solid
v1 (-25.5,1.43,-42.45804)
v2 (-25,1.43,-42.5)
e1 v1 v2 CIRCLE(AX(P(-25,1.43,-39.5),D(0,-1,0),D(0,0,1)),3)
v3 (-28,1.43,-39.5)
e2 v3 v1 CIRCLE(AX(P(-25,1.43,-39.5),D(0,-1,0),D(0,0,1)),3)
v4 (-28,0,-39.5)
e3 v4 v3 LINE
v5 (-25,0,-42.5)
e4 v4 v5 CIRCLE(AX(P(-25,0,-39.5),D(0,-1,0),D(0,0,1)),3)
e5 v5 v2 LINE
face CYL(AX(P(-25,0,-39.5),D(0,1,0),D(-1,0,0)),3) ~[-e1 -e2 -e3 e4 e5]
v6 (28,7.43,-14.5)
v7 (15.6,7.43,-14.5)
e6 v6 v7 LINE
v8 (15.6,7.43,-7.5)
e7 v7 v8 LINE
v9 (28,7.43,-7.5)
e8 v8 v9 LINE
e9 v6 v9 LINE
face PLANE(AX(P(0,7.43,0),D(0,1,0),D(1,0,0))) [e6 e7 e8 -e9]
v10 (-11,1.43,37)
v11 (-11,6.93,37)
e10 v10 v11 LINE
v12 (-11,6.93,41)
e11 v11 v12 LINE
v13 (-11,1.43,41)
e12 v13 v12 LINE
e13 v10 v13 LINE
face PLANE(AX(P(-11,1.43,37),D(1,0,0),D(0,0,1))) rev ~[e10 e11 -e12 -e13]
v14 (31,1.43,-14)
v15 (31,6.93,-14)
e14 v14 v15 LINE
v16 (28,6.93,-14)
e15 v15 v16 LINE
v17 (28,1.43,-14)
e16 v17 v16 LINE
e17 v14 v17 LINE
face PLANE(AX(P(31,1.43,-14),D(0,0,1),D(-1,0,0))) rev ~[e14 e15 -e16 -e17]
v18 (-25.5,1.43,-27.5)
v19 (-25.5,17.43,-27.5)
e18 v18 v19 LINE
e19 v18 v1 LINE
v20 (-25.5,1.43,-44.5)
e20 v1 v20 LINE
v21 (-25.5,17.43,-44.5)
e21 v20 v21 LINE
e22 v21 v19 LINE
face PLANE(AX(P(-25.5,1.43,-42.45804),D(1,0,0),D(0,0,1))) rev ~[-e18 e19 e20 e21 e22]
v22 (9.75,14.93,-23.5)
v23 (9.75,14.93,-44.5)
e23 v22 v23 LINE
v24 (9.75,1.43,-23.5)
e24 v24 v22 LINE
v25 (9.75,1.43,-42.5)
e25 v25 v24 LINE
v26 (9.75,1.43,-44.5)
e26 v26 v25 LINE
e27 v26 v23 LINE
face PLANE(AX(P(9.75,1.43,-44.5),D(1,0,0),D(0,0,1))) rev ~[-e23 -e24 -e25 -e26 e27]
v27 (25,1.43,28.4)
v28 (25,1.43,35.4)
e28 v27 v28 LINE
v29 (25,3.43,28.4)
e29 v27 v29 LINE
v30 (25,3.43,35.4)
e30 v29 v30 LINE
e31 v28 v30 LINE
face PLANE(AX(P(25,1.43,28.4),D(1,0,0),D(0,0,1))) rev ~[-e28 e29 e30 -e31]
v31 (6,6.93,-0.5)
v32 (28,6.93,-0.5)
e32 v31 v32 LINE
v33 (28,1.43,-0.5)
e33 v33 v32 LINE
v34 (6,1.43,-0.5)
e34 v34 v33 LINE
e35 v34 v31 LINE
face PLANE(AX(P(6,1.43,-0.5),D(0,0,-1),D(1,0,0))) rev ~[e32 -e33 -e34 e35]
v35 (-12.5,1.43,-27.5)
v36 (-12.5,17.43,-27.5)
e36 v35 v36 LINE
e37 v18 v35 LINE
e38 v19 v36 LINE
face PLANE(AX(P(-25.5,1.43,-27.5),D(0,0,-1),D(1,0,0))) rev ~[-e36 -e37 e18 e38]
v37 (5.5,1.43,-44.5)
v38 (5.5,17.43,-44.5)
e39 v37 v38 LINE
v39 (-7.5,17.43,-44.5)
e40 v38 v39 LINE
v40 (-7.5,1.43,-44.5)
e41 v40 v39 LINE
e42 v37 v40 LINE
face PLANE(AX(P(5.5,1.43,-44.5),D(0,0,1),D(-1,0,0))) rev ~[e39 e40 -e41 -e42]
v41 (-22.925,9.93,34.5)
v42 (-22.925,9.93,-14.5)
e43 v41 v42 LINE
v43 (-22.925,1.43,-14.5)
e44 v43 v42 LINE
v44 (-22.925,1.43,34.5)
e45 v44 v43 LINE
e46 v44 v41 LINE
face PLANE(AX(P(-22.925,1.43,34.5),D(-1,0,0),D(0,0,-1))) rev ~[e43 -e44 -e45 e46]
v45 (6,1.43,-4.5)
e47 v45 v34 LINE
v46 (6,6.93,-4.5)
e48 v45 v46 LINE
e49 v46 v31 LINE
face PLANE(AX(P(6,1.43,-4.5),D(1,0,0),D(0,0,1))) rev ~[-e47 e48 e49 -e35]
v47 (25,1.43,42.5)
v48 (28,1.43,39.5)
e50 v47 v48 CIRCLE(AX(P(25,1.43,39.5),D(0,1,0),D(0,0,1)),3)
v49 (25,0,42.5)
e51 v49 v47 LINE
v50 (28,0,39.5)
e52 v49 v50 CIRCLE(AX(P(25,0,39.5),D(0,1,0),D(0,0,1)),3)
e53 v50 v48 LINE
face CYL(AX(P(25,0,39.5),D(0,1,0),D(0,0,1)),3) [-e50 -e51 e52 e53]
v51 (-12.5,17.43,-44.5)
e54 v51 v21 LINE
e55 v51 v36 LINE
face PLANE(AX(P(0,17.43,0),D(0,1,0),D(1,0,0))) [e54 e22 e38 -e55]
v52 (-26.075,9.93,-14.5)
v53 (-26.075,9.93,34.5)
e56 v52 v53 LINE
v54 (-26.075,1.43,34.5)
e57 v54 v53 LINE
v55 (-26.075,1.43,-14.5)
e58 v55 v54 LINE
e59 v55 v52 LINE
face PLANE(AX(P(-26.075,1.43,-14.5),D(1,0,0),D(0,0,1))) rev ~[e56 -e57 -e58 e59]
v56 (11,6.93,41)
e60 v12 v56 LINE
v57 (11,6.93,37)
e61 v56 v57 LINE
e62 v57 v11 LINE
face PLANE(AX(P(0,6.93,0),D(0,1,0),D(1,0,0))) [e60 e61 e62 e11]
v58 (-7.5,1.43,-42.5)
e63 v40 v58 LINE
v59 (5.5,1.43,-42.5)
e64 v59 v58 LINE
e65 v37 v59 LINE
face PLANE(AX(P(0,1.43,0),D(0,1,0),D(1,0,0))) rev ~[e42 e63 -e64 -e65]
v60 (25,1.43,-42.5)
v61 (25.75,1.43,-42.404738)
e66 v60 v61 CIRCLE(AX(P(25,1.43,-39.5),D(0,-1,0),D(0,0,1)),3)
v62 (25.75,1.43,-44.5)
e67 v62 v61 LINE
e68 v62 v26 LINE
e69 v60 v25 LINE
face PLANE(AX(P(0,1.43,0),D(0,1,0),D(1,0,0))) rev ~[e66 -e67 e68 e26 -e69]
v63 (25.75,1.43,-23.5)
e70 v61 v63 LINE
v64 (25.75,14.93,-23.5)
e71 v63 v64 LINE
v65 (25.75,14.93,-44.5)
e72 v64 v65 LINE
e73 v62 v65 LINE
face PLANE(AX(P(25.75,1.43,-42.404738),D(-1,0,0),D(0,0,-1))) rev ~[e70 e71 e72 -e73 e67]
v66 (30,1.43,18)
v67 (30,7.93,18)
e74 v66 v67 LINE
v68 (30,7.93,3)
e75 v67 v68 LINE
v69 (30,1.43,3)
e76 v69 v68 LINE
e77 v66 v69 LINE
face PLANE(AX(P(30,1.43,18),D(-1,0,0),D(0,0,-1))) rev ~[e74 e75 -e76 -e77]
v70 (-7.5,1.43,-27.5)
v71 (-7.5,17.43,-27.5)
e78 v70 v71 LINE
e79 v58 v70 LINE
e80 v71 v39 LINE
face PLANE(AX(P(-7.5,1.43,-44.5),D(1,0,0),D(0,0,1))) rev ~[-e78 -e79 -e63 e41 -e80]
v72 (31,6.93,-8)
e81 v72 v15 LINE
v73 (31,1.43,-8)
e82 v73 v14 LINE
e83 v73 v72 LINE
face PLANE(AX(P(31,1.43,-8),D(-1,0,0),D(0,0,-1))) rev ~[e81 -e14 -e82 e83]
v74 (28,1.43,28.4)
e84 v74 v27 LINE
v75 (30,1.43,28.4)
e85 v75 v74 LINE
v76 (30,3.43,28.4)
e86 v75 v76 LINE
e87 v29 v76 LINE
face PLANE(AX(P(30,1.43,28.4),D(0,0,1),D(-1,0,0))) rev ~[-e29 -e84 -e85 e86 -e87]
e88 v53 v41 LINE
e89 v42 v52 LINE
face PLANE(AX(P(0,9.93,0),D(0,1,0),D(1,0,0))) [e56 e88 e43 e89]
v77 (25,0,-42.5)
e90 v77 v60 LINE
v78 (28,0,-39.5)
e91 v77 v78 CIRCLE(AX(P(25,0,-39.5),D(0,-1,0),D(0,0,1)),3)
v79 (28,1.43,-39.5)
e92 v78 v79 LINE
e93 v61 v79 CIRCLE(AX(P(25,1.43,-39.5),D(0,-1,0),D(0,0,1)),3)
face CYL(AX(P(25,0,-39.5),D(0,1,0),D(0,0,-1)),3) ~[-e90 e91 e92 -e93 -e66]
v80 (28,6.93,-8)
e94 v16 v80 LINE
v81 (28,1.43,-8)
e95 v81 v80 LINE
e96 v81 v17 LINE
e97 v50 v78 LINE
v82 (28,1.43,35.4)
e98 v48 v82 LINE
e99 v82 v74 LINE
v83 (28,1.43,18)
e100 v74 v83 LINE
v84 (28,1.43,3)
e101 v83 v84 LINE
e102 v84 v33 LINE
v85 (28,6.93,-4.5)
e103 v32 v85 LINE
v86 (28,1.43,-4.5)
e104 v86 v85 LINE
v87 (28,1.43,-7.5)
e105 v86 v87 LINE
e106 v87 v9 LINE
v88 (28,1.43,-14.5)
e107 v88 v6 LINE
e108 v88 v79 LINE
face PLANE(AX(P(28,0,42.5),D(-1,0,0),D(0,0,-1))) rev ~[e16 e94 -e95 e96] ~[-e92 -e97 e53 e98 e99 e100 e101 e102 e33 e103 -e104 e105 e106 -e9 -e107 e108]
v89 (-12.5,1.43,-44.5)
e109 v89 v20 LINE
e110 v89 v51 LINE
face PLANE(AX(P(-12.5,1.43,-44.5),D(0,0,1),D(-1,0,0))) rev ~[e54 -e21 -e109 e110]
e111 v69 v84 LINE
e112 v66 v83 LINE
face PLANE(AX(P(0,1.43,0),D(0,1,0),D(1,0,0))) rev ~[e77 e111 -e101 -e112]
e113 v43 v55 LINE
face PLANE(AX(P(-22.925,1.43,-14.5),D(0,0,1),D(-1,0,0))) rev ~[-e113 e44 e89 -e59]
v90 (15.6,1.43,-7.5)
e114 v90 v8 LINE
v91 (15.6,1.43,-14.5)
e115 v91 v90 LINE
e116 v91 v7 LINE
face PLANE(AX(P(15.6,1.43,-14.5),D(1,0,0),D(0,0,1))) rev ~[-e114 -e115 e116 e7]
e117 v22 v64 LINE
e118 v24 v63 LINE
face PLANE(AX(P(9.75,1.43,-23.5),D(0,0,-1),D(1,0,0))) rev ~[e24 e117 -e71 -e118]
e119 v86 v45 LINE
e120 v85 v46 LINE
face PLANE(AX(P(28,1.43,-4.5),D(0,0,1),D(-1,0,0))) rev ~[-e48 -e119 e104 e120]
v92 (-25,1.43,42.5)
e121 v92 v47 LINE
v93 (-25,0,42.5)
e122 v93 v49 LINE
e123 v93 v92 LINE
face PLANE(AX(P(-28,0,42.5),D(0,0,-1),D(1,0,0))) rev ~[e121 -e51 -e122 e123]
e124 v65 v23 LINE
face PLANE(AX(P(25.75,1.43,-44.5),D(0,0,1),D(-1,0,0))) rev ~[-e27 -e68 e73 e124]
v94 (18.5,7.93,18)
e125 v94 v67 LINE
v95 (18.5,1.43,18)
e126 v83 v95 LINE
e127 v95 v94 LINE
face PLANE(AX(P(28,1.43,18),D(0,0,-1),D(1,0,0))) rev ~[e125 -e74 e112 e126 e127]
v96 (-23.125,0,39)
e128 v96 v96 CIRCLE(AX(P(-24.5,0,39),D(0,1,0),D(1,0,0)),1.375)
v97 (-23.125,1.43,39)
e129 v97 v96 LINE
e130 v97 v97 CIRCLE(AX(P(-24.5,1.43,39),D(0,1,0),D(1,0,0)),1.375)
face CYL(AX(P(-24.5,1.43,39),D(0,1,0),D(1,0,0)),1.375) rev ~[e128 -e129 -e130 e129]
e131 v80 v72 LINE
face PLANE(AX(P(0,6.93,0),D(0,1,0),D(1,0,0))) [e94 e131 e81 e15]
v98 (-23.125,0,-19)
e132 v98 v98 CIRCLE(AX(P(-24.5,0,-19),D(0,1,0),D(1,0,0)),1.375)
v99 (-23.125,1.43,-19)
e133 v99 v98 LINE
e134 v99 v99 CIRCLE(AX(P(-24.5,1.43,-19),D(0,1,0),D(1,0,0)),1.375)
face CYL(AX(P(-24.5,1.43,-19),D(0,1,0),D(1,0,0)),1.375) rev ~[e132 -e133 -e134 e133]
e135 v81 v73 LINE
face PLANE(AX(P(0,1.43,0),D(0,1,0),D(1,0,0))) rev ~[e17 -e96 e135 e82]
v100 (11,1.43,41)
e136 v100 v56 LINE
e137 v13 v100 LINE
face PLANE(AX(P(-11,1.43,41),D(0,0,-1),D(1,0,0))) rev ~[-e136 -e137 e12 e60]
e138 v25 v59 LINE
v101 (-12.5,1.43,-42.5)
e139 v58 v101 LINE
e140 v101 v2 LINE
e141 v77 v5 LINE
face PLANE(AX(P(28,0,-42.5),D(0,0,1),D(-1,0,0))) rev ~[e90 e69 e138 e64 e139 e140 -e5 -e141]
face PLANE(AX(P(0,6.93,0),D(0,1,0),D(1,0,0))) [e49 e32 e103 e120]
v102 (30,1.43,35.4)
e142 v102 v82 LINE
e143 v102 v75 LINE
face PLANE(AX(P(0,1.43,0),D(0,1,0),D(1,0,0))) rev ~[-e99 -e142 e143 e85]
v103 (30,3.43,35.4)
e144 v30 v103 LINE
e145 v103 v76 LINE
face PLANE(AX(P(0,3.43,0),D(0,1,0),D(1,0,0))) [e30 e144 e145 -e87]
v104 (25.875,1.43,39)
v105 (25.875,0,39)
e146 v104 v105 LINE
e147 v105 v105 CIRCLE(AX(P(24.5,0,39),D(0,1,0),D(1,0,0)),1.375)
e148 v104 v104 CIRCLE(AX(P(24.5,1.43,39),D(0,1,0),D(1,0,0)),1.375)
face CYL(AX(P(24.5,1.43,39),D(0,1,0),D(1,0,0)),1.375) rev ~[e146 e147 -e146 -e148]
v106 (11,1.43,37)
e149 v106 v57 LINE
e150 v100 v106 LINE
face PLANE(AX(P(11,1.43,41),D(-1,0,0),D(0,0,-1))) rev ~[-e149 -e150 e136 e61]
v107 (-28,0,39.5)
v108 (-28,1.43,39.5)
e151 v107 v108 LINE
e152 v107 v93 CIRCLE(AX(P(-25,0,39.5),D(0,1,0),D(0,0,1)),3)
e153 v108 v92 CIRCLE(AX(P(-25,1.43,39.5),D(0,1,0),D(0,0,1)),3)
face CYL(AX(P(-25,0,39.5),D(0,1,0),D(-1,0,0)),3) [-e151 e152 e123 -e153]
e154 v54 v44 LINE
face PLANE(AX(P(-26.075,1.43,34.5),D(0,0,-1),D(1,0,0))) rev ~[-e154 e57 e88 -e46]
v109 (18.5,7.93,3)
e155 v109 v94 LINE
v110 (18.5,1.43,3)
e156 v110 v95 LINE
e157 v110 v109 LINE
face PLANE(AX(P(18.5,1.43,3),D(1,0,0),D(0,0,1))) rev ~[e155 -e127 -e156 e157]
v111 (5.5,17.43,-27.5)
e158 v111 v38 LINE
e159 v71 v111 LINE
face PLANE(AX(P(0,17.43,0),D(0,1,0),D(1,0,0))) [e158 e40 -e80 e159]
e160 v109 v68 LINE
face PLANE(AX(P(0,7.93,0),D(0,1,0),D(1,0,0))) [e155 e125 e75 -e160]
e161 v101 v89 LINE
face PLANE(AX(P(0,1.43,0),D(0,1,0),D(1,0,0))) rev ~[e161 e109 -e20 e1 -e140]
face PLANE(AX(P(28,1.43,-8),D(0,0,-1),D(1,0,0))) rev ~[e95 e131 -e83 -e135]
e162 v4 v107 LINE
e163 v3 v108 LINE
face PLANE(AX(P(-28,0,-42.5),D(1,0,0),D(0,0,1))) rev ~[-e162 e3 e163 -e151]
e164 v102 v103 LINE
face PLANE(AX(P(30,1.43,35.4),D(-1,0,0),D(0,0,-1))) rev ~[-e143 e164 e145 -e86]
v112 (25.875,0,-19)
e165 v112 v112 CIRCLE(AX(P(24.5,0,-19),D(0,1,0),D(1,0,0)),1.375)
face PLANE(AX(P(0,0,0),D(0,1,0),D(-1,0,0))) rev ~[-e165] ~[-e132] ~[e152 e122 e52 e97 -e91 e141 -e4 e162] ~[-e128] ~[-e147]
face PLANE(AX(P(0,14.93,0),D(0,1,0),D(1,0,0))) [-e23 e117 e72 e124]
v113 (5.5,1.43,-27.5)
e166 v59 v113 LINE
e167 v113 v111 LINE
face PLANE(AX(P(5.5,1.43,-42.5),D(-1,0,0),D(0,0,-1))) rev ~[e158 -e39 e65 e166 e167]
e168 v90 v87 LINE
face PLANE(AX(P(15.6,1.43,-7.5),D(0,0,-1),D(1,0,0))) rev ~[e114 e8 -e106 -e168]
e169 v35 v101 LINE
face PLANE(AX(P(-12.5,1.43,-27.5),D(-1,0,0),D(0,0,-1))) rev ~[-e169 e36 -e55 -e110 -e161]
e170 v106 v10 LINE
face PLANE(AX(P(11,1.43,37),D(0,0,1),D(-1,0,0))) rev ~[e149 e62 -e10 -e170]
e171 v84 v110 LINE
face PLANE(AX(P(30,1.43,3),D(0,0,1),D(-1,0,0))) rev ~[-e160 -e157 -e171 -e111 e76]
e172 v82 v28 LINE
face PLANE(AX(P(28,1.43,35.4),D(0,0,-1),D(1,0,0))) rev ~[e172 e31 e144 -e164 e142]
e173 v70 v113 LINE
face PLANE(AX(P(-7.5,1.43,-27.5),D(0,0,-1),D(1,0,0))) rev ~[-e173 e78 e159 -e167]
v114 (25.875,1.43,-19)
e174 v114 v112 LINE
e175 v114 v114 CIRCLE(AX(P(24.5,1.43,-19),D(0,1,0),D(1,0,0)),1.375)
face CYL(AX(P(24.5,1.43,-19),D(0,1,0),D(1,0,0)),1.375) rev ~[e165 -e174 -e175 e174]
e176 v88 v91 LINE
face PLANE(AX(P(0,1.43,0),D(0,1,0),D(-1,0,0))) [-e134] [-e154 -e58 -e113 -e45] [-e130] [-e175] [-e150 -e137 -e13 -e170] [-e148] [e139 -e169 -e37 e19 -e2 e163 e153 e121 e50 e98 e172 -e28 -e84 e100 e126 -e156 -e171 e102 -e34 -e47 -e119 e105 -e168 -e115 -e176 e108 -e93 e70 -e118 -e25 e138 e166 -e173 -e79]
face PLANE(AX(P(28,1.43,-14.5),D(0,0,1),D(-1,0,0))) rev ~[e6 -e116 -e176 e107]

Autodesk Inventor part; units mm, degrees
ref_plane "YZ Plane" through (0, 0, 0) normal (1, 0, 0) x (0, 1, 0)
ref_plane "XZ Plane" through (0, 0, 0) normal (0, 1, 0) x (-1, 0, 0)
ref_plane "XY Plane" through (0, 0, 0) normal (0, 0, 1) x (1, 0, 0)
sketch "Sketch1" plane through (0, 0, 0) normal (0, 1, 0) x (-1, 0, 0)
  line L0 (28, 42.5) -> (-28, 42.5)
  line L1 (-28, 42.5) -> (-28, -42.5)
  line L2 (-28, -42.5) -> (28, -42.5)
  line L3 (28, -42.5) -> (28, 42.5)
  point P0 (0, 0)
  point P1 (28, 0)
  point P2 (0, -42.5)
  dimension "d0" = 85
  dimension "d1" = 56
extrude "Extrusion1" add sketch "Sketch1" along normal blind 1.43
sketch "Sketch2" plane through (0, 1.43, 0) normal (0, 1, 0) x (1, 0, 0)
  line L0 (-28, -42.5) -> (28, -42.5) projected
  line L1 (28, -42.5) -> (28, 42.5) projected
  line L2 (28, 42.5) -> (-28, 42.5) projected
  line L3 (-28, 42.5) -> (-28, -42.5) projected
  circle A0 centre (-24.5, -39) radius 1.375
  circle A1 centre (-24.5, 19) radius 1.375
  circle A2 centre (24.5, 19) radius 1.375
  circle A3 centre (24.5, -39) radius 1.375
  point P0 (0, 0)
  dimension "d4" = 2.75
  dimension "d5" = 2.75
  dimension "d6" = 2.75
  dimension "d7" = 2.75
  dimension "d8" = 49
  dimension "d9" = 58
  dimension "d10" = 3.5
  dimension "d11" = 3.5
extrude "Extrusion2" cut sketch "Sketch2" against normal through all contours A0 | A1 | A2 | A3
fillet "Fillet1" radius 3 4 edges at (-28, 0.715, 42.5) (28, 0.715, 42.5) (28, 0.715, -42.5) (-28, 0.715, -42.5)
sketch "Sketch3" plane through (0, 1.43, 0) normal (0, 1, 0) x (1, 0, 0)
  circle A0 centre (24.5, 19) radius 1.375 projected
  circle A1 centre (-24.5, -39) radius 1.375 projected
  circle A2 centre (-24.5, 19) radius 1.375 projected
  circle A3 centre (24.5, -39) radius 1.375 projected
  arc A4 (-25, 42.5) -> (-28, 39.5) centre (-25, 39.5) ccw projected
  line L0 (-28, 39.5) -> (-28, -39.5) projected
  arc A5 (-28, -39.5) -> (-25, -42.5) centre (-25, -39.5) ccw projected
  line L1 (-25, -42.5) -> (25, -42.5) projected
  arc A6 (25, -42.5) -> (28, -39.5) centre (25, -39.5) ccw projected
  line L2 (28, -39.5) -> (28, 39.5) projected
  arc A7 (28, 39.5) -> (25, 42.5) centre (25, 39.5) ccw projected
  line L3 (25, 42.5) -> (-25, 42.5) projected
  line L4 (-25.5, 27.5) -> (-12.5, 27.5)
  line L5 (-12.5, 27.5) -> (-12.5, 44.5)
  line L6 (-12.5, 44.5) -> (-25.5, 44.5)
  line L7 (-25.5, 44.5) -> (-25.5, 27.5)
  line L8 (-7.5, 27.5) -> (5.5, 27.5)
  line L9 (5.5, 27.5) -> (5.5, 44.5)
  line L10 (5.5, 44.5) -> (-7.5, 44.5)
  line L11 (-7.5, 44.5) -> (-7.5, 27.5)
  point P0 (0, 0)
  point P1 (-19, 44.5)
  point P2 (-1, 44.5)
  dimension "d15" = 2
  dimension "d16" = 29
  dimension "d17" = 47
  dimension "d18" = 13
  dimension "d19" = 13
  dimension "d20" = 17
extrude "Extrusion3" add sketch "Sketch3" along normal blind 16 contours L3 L5 L4 L7 A4 | A4 L7 L6 L5 L3 | L11 L10 L9 L3 | L3 L9 L8 L11
sketch "Sketch4" plane through (0, 1.43, 0) normal (0, 1, 0) x (1, 0, 0)
  line L0 (-7.5, 27.5) -> (-7.5, 42.5) projected
  line L1 (-7.5, 42.5) -> (-12.5, 42.5) projected
  line L2 (-12.5, 42.5) -> (-12.5, 27.5) projected
  line L3 (-12.5, 27.5) -> (-25.5, 27.5) projected
  line L4 (-25.5, 27.5) -> (-25.5, 42.458) projected
  arc A0 (-25.5, 42.458) -> (-28, 39.5) centre (-25, 39.5) ccw projected
  line L5 (-28, 39.5) -> (-28, -39.5) projected
  arc A1 (-28, -39.5) -> (-25, -42.5) centre (-25, -39.5) ccw projected
  line L6 (-25, -42.5) -> (25, -42.5) projected
  arc A2 (25, -42.5) -> (28, -39.5) centre (25, -39.5) ccw projected
  line L7 (28, -39.5) -> (28, 39.5) projected
  arc A3 (28, 39.5) -> (25, 42.5) centre (25, 39.5) ccw projected
  line L8 (25, 42.5) -> (5.5, 42.5) projected
  line L9 (5.5, 42.5) -> (5.5, 27.5) projected
  line L10 (5.5, 27.5) -> (-7.5, 27.5) projected
  circle A4 centre (24.5, 19) radius 1.375 projected
  circle A5 centre (-24.5, -39) radius 1.375 projected
  circle A6 centre (-24.5, 19) radius 1.375 projected
  circle A7 centre (24.5, -39) radius 1.375 projected
  line L11 (-7.5, 27.5) -> (5.5, 27.5) projected
  line L12 (5.5, 27.5) -> (5.5, 44.5) projected
  line L13 (5.5, 44.5) -> (-7.5, 44.5) projected
  line L14 (-7.5, 44.5) -> (-7.5, 27.5) projected
  line L15 (9.75, 23.5) -> (25.75, 23.5)
  line L16 (25.75, 23.5) -> (25.75, 44.5)
  line L17 (25.75, 44.5) -> (9.75, 44.5)
  line L18 (9.75, 44.5) -> (9.75, 23.5)
  point P0 (0, 0)
  point P1 (17.75, 44.5)
  dimension "d23" = 10.25
  dimension "d24" = 21
  dimension "d25" = 16
extrude "Extrusion4" add sketch "Sketch4" along normal blind 13.5 contours L18 L17 L16 A3 L8 | L8 A3 L16 L15 L18
sketch "Sketch5" plane through (0, 1.43, 0) normal (0, 1, 0) x (1, 0, 0)
  line L0 (9.75, 23.5) -> (9.75, 42.5) projected
  line L1 (9.75, 42.5) -> (5.5, 42.5) projected
  line L2 (5.5, 42.5) -> (5.5, 27.5) projected
  line L3 (5.5, 27.5) -> (-7.5, 27.5) projected
  line L4 (-7.5, 27.5) -> (-7.5, 42.5) projected
  line L5 (-7.5, 42.5) -> (-12.5, 42.5) projected
  line L6 (-12.5, 42.5) -> (-12.5, 27.5) projected
  line L7 (-12.5, 27.5) -> (-25.5, 27.5) projected
  line L8 (-25.5, 27.5) -> (-25.5, 42.458) projected
  arc A0 (-25.5, 42.458) -> (-28, 39.5) centre (-25, 39.5) ccw projected
  line L9 (-28, 39.5) -> (-28, -39.5) projected
  arc A1 (-28, -39.5) -> (-25, -42.5) centre (-25, -39.5) ccw projected
  line L10 (-25, -42.5) -> (25, -42.5) projected
  arc A2 (25, -42.5) -> (28, -39.5) centre (25, -39.5) ccw projected
  line L11 (28, -39.5) -> (28, 39.5) projected
  arc A3 (28, 39.5) -> (25.75, 42.4047) centre (25, 39.5) ccw projected
  line L12 (25.75, 42.4047) -> (25.75, 23.5) projected
  line L13 (25.75, 23.5) -> (9.75, 23.5) projected
  circle A4 centre (24.5, 19) radius 1.375 projected
  circle A5 centre (-24.5, -39) radius 1.375 projected
  circle A6 centre (-24.5, 19) radius 1.375 projected
  circle A7 centre (24.5, -39) radius 1.375 projected
  line L14 (-26.075, -34.5) -> (-22.925, -34.5)
  line L15 (-22.925, -34.5) -> (-22.925, 14.5)
  line L16 (-22.925, 14.5) -> (-26.075, 14.5)
  line L17 (-26.075, 14.5) -> (-26.075, -34.5)
  point P0 (0, 0)
  point P1 (-26.075, -10)
  point P2 (-24.5, -34.5)
  dimension "d28" = 3.15
  dimension "d29" = 49
  dimension "d31" = 29
extrude "Extrusion5" add sketch "Sketch5" along normal blind 8.5 contours L17 L16 L15 L14
sketch "Sketch6" plane through (0, 1.43, 0) normal (0, 1, 0) x (1, 0, 0)
  line L0 (-26.075, -34.5) -> (-26.075, 14.5) projected
  line L1 (-26.075, 14.5) -> (-22.925, 14.5) projected
  line L2 (-22.925, 14.5) -> (-22.925, -34.5) projected
  line L3 (-22.925, -34.5) -> (-26.075, -34.5) projected
  line L4 (9.75, 23.5) -> (9.75, 42.5) projected
  line L5 (9.75, 42.5) -> (5.5, 42.5) projected
  line L6 (5.5, 42.5) -> (5.5, 27.5) projected
  line L7 (5.5, 27.5) -> (-7.5, 27.5) projected
  line L8 (-7.5, 27.5) -> (-7.5, 42.5) projected
  line L9 (-7.5, 42.5) -> (-12.5, 42.5) projected
  line L10 (-12.5, 42.5) -> (-12.5, 27.5) projected
  line L11 (-12.5, 27.5) -> (-25.5, 27.5) projected
  line L12 (-25.5, 27.5) -> (-25.5, 42.458) projected
  arc A0 (-25.5, 42.458) -> (-28, 39.5) centre (-25, 39.5) ccw projected
  line L13 (-28, 39.5) -> (-28, -39.5) projected
  arc A1 (-28, -39.5) -> (-25, -42.5) centre (-25, -39.5) ccw projected
  line L14 (-25, -42.5) -> (25, -42.5) projected
  arc A2 (25, -42.5) -> (28, -39.5) centre (25, -39.5) ccw projected
  line L15 (28, -39.5) -> (28, 39.5) projected
  arc A3 (28, 39.5) -> (25.75, 42.4047) centre (25, 39.5) ccw projected
  line L16 (25.75, 42.4047) -> (25.75, 23.5) projected
  line L17 (25.75, 23.5) -> (9.75, 23.5) projected
  circle A4 centre (24.5, 19) radius 1.375 projected
  circle A5 centre (-24.5, -39) radius 1.375 projected
  circle A6 centre (-24.5, 19) radius 1.375 projected
  circle A7 centre (24.5, -39) radius 1.375 projected
  line L18 (18.5, -18) -> (30, -18)
  line L19 (30, -18) -> (30, -3)
  line L20 (30, -3) -> (18.5, -3)
  line L21 (18.5, -3) -> (18.5, -18)
  point P0 (0, 0)
  point P1 (30, -10.5)
  dimension "d34" = 2
  dimension "d35" = 11.5
  dimension "d36" = 15
  dimension "d37" = 32
extrude "Extrusion6" add sketch "Sketch6" along normal blind 6.5 contours L20 L19 L18 L15 | L15 L18 L21 L20
sketch "Sketch7" plane through (0, 1.43, 0) normal (0, 1, 0) x (1, 0, 0)
  line L0 (18.5, -3) -> (28, -3) projected
  line L1 (28, -3) -> (28, 39.5) projected
  arc A0 (28, 39.5) -> (25.75, 42.4047) centre (25, 39.5) ccw projected
  line L2 (25.75, 42.4047) -> (25.75, 23.5) projected
  line L3 (25.75, 23.5) -> (9.75, 23.5) projected
  line L4 (9.75, 23.5) -> (9.75, 42.5) projected
  line L5 (9.75, 42.5) -> (5.5, 42.5) projected
  line L6 (5.5, 42.5) -> (5.5, 27.5) projected
  line L7 (5.5, 27.5) -> (-7.5, 27.5) projected
  line L8 (-7.5, 27.5) -> (-7.5, 42.5) projected
  line L9 (-7.5, 42.5) -> (-12.5, 42.5) projected
  line L10 (-12.5, 42.5) -> (-12.5, 27.5) projected
  line L11 (-12.5, 27.5) -> (-25.5, 27.5) projected
  line L12 (-25.5, 27.5) -> (-25.5, 42.458) projected
  arc A1 (-25.5, 42.458) -> (-28, 39.5) centre (-25, 39.5) ccw projected
  line L13 (-28, 39.5) -> (-28, -39.5) projected
  arc A2 (-28, -39.5) -> (-25, -42.5) centre (-25, -39.5) ccw projected
  line L14 (-25, -42.5) -> (25, -42.5) projected
  arc A3 (25, -42.5) -> (28, -39.5) centre (25, -39.5) ccw projected
  line L15 (28, -39.5) -> (28, -18) projected
  line L16 (28, -18) -> (18.5, -18) projected
  line L17 (18.5, -18) -> (18.5, -3) projected
  line L18 (-26.075, -34.5) -> (-26.075, 14.5) projected
  line L19 (-26.075, 14.5) -> (-22.925, 14.5) projected
  line L20 (-22.925, 14.5) -> (-22.925, -34.5) projected
  line L21 (-22.925, -34.5) -> (-26.075, -34.5) projected
  circle A4 centre (24.5, 19) radius 1.375 projected
  circle A5 centre (-24.5, -39) radius 1.375 projected
  circle A6 centre (-24.5, 19) radius 1.375 projected
  circle A7 centre (24.5, -39) radius 1.375 projected
  line L22 (18.5, -18) -> (30, -18) projected
  line L23 (30, -18) -> (30, -3) projected
  line L24 (30, -3) -> (18.5, -3) projected
  line L25 (18.5, -3) -> (18.5, -18) projected
  line L26 (28, -39.5) -> (28, 39.5) projected
  line L27 (6, 0.5) -> (28, 0.5)
  line L28 (28, 0.5) -> (28, 4.5)
  line L29 (28, 4.5) -> (6, 4.5)
  line L30 (6, 4.5) -> (6, 0.5)
  line L31 (-11, -41) -> (11, -41)
  line L32 (11, -41) -> (11, -37)
  line L33 (11, -37) -> (-11, -37)
  line L34 (-11, -37) -> (-11, -41)
  point P0 (0, 0)
  point P1 (28, 2.5)
  point P2 (0, -41)
  point P3 (30, -10.5)
  point P4 (11, -39)
  dimension "d40" = 22
  dimension "d41" = 22
  dimension "d42" = 4
  dimension "d43" = 4
  dimension "d44" = 28
  dimension "d45" = 13
extrude "Extrusion7" add sketch "Sketch7" along normal blind 5.5 contours L27 L30 L29 L1 | L34 L33 L32 L31
sketch "Sketch8" plane through (0, 1.43, 0) normal (0, 1, 0) x (1, 0, 0)
  circle A0 centre (24.5, -39) radius 1.375 projected
  circle A1 centre (-24.5, 19) radius 1.375 projected
  circle A2 centre (-24.5, -39) radius 1.375 projected
  circle A3 centre (24.5, 19) radius 1.375 projected
  line L0 (-26.075, -34.5) -> (-26.075, 14.5) projected
  line L1 (-26.075, 14.5) -> (-22.925, 14.5) projected
  line L2 (-22.925, 14.5) -> (-22.925, -34.5) projected
  line L3 (-22.925, -34.5) -> (-26.075, -34.5) projected
  line L4 (28, 0.5) -> (6, 0.5) projected
  line L5 (6, 0.5) -> (6, 4.5) projected
  line L6 (6, 4.5) -> (28, 4.5) projected
  line L7 (28, 4.5) -> (28, 39.5) projected
  arc A4 (28, 39.5) -> (25.75, 42.4047) centre (25, 39.5) ccw projected
  line L8 (25.75, 42.4047) -> (25.75, 23.5) projected
  line L9 (25.75, 23.5) -> (9.75, 23.5) projected
  line L10 (9.75, 23.5) -> (9.75, 42.5) projected
  line L11 (9.75, 42.5) -> (5.5, 42.5) projected
  line L12 (5.5, 42.5) -> (5.5, 27.5) projected
  line L13 (5.5, 27.5) -> (-7.5, 27.5) projected
  line L14 (-7.5, 27.5) -> (-7.5, 42.5) projected
  line L15 (-7.5, 42.5) -> (-12.5, 42.5) projected
  line L16 (-12.5, 42.5) -> (-12.5, 27.5) projected
  line L17 (-12.5, 27.5) -> (-25.5, 27.5) projected
  line L18 (-25.5, 27.5) -> (-25.5, 42.458) projected
  arc A5 (-25.5, 42.458) -> (-28, 39.5) centre (-25, 39.5) ccw projected
  line L19 (-28, 39.5) -> (-28, -39.5) projected
  arc A6 (-28, -39.5) -> (-25, -42.5) centre (-25, -39.5) ccw projected
  line L20 (-25, -42.5) -> (25, -42.5) projected
  arc A7 (25, -42.5) -> (28, -39.5) centre (25, -39.5) ccw projected
  line L21 (28, -39.5) -> (28, -18) projected
  line L22 (28, -18) -> (18.5, -18) projected
  line L23 (18.5, -18) -> (18.5, -3) projected
  line L24 (18.5, -3) -> (28, -3) projected
  line L25 (28, -3) -> (28, 0.5) projected
  line L26 (-11, -41) -> (-11, -37) projected
  line L27 (-11, -37) -> (11, -37) projected
  line L28 (11, -37) -> (11, -41) projected
  line L29 (11, -41) -> (-11, -41) projected
  line L30 (15.6, 7.5) -> (28, 7.5)
  line L31 (28, 7.5) -> (28, 14.5)
  line L32 (28, 14.5) -> (15.6, 14.5)
  line L33 (15.6, 14.5) -> (15.6, 7.5)
  line L34 (28, 8) -> (31, 8)
  line L35 (31, 8) -> (31, 14)
  line L36 (31, 14) -> (28, 14)
  line L37 (28, 14) -> (28, 8)
  point P0 (0, 0)
  point P1 (31, 11)
  point P2 (28, 11)
  point P3 (31, 11)
  dimension "d48" = 7
  dimension "d49" = 6
  dimension "d50" = 12.4
  dimension "d51" = 3
  dimension "d52" = 53.5
extrude "Extrusion8" add sketch "Sketch8" along normal blind 6 contours L30 L33 L32 L7 | L7 L36 L35 L34
sketch "Sketch9" plane through (0, 7.43, 0) normal (0, 1, 0) x (1, 0, 0)
  line L0 (28, 8) -> (31, 8) projected
  line L1 (31, 8) -> (31, 14) projected
  line L2 (31, 14) -> (28, 14) projected
  line L3 (28, 14) -> (28, 14.5) projected
  line L4 (28, 14.5) -> (15.6, 14.5) projected
  line L5 (15.6, 14.5) -> (15.6, 7.5) projected
  line L6 (15.6, 7.5) -> (28, 7.5) projected
  line L7 (28, 7.5) -> (28, 8) projected
  line L8 (28, 8) -> (31, 8)
  line L9 (31, 8) -> (31, 14)
  line L10 (31, 14) -> (28, 14)
  line L11 (28, 14) -> (28, 8)
  point P0 (0, 0)
extrude "Extrusion9" cut sketch "Sketch9" against normal blind 0.5 contours L11 L2 L1 L0
sketch "Sketch10" plane through (0, 1.43, 0) normal (0, 1, 0) x (1, 0, 0)
  line L0 (15.6, 14.5) -> (28, 14.5) projected
  line L1 (28, 14.5) -> (28, 39.5) projected
  arc A0 (28, 39.5) -> (25.75, 42.4047) centre (25, 39.5) ccw projected
  line L2 (25.75, 42.4047) -> (25.75, 23.5) projected
  line L3 (25.75, 23.5) -> (9.75, 23.5) projected
  line L4 (9.75, 23.5) -> (9.75, 42.5) projected
  line L5 (9.75, 42.5) -> (5.5, 42.5) projected
  line L6 (5.5, 42.5) -> (5.5, 27.5) projected
  line L7 (5.5, 27.5) -> (-7.5, 27.5) projected
  line L8 (-7.5, 27.5) -> (-7.5, 42.5) projected
  line L9 (-7.5, 42.5) -> (-12.5, 42.5) projected
  line L10 (-12.5, 42.5) -> (-12.5, 27.5) projected
  line L11 (-12.5, 27.5) -> (-25.5, 27.5) projected
  line L12 (-25.5, 27.5) -> (-25.5, 42.458) projected
  arc A1 (-25.5, 42.458) -> (-28, 39.5) centre (-25, 39.5) ccw projected
  line L13 (-28, 39.5) -> (-28, -39.5) projected
  arc A2 (-28, -39.5) -> (-25, -42.5) centre (-25, -39.5) ccw projected
  line L14 (-25, -42.5) -> (25, -42.5) projected
  arc A3 (25, -42.5) -> (28, -39.5) centre (25, -39.5) ccw projected
  line L15 (28, -39.5) -> (28, -18) projected
  line L16 (28, -18) -> (18.5, -18) projected
  line L17 (18.5, -18) -> (18.5, -3) projected
  line L18 (18.5, -3) -> (28, -3) projected
  line L19 (28, -3) -> (28, 0.5) projected
  line L20 (28, 0.5) -> (6, 0.5) projected
  line L21 (6, 0.5) -> (6, 4.5) projected
  line L22 (6, 4.5) -> (28, 4.5) projected
  line L23 (28, 4.5) -> (28, 7.5) projected
  line L24 (28, 7.5) -> (15.6, 7.5) projected
  line L25 (15.6, 7.5) -> (15.6, 14.5) projected
  circle A4 centre (24.5, -39) radius 1.375 projected
  circle A5 centre (-24.5, 19) radius 1.375 projected
  circle A6 centre (-24.5, -39) radius 1.375 projected
  circle A7 centre (24.5, 19) radius 1.375 projected
  line L26 (-26.075, -34.5) -> (-26.075, 14.5) projected
  line L27 (-26.075, 14.5) -> (-22.925, 14.5) projected
  line L28 (-22.925, 14.5) -> (-22.925, -34.5) projected
  line L29 (-22.925, -34.5) -> (-26.075, -34.5) projected
  line L30 (-11, -41) -> (-11, -37) projected
  line L31 (-11, -37) -> (11, -37) projected
  line L32 (11, -37) -> (11, -41) projected
  line L33 (11, -41) -> (-11, -41) projected
  line L34 (25, -35.4) -> (30, -35.4)
  line L35 (30, -35.4) -> (30, -28.4)
  line L36 (30, -28.4) -> (25, -28.4)
  line L37 (25, -28.4) -> (25, -35.4)
  point P0 (0, 0)
  point P1 (30, -31.9)
  dimension "d57" = 2
  dimension "d58" = 10.6
  dimension "d59" = 5
  dimension "d60" = 7
extrude "Extrusion10" add sketch "Sketch10" along normal blind 2 contours L36 L35 L34 L15 | L15 L34 L37 L36
equation "\"d5\" = d4"
equation "\"d6\" = d4"
equation "\"d7\" = d4"
equation "\"d11\" = d10"
equation "\"d19\" = d18"
equation "\"d41\" = d40"
equation "\"d43\" = d42"
properties part number "RaspberryPi3B+" material "Aluminum 6061"
